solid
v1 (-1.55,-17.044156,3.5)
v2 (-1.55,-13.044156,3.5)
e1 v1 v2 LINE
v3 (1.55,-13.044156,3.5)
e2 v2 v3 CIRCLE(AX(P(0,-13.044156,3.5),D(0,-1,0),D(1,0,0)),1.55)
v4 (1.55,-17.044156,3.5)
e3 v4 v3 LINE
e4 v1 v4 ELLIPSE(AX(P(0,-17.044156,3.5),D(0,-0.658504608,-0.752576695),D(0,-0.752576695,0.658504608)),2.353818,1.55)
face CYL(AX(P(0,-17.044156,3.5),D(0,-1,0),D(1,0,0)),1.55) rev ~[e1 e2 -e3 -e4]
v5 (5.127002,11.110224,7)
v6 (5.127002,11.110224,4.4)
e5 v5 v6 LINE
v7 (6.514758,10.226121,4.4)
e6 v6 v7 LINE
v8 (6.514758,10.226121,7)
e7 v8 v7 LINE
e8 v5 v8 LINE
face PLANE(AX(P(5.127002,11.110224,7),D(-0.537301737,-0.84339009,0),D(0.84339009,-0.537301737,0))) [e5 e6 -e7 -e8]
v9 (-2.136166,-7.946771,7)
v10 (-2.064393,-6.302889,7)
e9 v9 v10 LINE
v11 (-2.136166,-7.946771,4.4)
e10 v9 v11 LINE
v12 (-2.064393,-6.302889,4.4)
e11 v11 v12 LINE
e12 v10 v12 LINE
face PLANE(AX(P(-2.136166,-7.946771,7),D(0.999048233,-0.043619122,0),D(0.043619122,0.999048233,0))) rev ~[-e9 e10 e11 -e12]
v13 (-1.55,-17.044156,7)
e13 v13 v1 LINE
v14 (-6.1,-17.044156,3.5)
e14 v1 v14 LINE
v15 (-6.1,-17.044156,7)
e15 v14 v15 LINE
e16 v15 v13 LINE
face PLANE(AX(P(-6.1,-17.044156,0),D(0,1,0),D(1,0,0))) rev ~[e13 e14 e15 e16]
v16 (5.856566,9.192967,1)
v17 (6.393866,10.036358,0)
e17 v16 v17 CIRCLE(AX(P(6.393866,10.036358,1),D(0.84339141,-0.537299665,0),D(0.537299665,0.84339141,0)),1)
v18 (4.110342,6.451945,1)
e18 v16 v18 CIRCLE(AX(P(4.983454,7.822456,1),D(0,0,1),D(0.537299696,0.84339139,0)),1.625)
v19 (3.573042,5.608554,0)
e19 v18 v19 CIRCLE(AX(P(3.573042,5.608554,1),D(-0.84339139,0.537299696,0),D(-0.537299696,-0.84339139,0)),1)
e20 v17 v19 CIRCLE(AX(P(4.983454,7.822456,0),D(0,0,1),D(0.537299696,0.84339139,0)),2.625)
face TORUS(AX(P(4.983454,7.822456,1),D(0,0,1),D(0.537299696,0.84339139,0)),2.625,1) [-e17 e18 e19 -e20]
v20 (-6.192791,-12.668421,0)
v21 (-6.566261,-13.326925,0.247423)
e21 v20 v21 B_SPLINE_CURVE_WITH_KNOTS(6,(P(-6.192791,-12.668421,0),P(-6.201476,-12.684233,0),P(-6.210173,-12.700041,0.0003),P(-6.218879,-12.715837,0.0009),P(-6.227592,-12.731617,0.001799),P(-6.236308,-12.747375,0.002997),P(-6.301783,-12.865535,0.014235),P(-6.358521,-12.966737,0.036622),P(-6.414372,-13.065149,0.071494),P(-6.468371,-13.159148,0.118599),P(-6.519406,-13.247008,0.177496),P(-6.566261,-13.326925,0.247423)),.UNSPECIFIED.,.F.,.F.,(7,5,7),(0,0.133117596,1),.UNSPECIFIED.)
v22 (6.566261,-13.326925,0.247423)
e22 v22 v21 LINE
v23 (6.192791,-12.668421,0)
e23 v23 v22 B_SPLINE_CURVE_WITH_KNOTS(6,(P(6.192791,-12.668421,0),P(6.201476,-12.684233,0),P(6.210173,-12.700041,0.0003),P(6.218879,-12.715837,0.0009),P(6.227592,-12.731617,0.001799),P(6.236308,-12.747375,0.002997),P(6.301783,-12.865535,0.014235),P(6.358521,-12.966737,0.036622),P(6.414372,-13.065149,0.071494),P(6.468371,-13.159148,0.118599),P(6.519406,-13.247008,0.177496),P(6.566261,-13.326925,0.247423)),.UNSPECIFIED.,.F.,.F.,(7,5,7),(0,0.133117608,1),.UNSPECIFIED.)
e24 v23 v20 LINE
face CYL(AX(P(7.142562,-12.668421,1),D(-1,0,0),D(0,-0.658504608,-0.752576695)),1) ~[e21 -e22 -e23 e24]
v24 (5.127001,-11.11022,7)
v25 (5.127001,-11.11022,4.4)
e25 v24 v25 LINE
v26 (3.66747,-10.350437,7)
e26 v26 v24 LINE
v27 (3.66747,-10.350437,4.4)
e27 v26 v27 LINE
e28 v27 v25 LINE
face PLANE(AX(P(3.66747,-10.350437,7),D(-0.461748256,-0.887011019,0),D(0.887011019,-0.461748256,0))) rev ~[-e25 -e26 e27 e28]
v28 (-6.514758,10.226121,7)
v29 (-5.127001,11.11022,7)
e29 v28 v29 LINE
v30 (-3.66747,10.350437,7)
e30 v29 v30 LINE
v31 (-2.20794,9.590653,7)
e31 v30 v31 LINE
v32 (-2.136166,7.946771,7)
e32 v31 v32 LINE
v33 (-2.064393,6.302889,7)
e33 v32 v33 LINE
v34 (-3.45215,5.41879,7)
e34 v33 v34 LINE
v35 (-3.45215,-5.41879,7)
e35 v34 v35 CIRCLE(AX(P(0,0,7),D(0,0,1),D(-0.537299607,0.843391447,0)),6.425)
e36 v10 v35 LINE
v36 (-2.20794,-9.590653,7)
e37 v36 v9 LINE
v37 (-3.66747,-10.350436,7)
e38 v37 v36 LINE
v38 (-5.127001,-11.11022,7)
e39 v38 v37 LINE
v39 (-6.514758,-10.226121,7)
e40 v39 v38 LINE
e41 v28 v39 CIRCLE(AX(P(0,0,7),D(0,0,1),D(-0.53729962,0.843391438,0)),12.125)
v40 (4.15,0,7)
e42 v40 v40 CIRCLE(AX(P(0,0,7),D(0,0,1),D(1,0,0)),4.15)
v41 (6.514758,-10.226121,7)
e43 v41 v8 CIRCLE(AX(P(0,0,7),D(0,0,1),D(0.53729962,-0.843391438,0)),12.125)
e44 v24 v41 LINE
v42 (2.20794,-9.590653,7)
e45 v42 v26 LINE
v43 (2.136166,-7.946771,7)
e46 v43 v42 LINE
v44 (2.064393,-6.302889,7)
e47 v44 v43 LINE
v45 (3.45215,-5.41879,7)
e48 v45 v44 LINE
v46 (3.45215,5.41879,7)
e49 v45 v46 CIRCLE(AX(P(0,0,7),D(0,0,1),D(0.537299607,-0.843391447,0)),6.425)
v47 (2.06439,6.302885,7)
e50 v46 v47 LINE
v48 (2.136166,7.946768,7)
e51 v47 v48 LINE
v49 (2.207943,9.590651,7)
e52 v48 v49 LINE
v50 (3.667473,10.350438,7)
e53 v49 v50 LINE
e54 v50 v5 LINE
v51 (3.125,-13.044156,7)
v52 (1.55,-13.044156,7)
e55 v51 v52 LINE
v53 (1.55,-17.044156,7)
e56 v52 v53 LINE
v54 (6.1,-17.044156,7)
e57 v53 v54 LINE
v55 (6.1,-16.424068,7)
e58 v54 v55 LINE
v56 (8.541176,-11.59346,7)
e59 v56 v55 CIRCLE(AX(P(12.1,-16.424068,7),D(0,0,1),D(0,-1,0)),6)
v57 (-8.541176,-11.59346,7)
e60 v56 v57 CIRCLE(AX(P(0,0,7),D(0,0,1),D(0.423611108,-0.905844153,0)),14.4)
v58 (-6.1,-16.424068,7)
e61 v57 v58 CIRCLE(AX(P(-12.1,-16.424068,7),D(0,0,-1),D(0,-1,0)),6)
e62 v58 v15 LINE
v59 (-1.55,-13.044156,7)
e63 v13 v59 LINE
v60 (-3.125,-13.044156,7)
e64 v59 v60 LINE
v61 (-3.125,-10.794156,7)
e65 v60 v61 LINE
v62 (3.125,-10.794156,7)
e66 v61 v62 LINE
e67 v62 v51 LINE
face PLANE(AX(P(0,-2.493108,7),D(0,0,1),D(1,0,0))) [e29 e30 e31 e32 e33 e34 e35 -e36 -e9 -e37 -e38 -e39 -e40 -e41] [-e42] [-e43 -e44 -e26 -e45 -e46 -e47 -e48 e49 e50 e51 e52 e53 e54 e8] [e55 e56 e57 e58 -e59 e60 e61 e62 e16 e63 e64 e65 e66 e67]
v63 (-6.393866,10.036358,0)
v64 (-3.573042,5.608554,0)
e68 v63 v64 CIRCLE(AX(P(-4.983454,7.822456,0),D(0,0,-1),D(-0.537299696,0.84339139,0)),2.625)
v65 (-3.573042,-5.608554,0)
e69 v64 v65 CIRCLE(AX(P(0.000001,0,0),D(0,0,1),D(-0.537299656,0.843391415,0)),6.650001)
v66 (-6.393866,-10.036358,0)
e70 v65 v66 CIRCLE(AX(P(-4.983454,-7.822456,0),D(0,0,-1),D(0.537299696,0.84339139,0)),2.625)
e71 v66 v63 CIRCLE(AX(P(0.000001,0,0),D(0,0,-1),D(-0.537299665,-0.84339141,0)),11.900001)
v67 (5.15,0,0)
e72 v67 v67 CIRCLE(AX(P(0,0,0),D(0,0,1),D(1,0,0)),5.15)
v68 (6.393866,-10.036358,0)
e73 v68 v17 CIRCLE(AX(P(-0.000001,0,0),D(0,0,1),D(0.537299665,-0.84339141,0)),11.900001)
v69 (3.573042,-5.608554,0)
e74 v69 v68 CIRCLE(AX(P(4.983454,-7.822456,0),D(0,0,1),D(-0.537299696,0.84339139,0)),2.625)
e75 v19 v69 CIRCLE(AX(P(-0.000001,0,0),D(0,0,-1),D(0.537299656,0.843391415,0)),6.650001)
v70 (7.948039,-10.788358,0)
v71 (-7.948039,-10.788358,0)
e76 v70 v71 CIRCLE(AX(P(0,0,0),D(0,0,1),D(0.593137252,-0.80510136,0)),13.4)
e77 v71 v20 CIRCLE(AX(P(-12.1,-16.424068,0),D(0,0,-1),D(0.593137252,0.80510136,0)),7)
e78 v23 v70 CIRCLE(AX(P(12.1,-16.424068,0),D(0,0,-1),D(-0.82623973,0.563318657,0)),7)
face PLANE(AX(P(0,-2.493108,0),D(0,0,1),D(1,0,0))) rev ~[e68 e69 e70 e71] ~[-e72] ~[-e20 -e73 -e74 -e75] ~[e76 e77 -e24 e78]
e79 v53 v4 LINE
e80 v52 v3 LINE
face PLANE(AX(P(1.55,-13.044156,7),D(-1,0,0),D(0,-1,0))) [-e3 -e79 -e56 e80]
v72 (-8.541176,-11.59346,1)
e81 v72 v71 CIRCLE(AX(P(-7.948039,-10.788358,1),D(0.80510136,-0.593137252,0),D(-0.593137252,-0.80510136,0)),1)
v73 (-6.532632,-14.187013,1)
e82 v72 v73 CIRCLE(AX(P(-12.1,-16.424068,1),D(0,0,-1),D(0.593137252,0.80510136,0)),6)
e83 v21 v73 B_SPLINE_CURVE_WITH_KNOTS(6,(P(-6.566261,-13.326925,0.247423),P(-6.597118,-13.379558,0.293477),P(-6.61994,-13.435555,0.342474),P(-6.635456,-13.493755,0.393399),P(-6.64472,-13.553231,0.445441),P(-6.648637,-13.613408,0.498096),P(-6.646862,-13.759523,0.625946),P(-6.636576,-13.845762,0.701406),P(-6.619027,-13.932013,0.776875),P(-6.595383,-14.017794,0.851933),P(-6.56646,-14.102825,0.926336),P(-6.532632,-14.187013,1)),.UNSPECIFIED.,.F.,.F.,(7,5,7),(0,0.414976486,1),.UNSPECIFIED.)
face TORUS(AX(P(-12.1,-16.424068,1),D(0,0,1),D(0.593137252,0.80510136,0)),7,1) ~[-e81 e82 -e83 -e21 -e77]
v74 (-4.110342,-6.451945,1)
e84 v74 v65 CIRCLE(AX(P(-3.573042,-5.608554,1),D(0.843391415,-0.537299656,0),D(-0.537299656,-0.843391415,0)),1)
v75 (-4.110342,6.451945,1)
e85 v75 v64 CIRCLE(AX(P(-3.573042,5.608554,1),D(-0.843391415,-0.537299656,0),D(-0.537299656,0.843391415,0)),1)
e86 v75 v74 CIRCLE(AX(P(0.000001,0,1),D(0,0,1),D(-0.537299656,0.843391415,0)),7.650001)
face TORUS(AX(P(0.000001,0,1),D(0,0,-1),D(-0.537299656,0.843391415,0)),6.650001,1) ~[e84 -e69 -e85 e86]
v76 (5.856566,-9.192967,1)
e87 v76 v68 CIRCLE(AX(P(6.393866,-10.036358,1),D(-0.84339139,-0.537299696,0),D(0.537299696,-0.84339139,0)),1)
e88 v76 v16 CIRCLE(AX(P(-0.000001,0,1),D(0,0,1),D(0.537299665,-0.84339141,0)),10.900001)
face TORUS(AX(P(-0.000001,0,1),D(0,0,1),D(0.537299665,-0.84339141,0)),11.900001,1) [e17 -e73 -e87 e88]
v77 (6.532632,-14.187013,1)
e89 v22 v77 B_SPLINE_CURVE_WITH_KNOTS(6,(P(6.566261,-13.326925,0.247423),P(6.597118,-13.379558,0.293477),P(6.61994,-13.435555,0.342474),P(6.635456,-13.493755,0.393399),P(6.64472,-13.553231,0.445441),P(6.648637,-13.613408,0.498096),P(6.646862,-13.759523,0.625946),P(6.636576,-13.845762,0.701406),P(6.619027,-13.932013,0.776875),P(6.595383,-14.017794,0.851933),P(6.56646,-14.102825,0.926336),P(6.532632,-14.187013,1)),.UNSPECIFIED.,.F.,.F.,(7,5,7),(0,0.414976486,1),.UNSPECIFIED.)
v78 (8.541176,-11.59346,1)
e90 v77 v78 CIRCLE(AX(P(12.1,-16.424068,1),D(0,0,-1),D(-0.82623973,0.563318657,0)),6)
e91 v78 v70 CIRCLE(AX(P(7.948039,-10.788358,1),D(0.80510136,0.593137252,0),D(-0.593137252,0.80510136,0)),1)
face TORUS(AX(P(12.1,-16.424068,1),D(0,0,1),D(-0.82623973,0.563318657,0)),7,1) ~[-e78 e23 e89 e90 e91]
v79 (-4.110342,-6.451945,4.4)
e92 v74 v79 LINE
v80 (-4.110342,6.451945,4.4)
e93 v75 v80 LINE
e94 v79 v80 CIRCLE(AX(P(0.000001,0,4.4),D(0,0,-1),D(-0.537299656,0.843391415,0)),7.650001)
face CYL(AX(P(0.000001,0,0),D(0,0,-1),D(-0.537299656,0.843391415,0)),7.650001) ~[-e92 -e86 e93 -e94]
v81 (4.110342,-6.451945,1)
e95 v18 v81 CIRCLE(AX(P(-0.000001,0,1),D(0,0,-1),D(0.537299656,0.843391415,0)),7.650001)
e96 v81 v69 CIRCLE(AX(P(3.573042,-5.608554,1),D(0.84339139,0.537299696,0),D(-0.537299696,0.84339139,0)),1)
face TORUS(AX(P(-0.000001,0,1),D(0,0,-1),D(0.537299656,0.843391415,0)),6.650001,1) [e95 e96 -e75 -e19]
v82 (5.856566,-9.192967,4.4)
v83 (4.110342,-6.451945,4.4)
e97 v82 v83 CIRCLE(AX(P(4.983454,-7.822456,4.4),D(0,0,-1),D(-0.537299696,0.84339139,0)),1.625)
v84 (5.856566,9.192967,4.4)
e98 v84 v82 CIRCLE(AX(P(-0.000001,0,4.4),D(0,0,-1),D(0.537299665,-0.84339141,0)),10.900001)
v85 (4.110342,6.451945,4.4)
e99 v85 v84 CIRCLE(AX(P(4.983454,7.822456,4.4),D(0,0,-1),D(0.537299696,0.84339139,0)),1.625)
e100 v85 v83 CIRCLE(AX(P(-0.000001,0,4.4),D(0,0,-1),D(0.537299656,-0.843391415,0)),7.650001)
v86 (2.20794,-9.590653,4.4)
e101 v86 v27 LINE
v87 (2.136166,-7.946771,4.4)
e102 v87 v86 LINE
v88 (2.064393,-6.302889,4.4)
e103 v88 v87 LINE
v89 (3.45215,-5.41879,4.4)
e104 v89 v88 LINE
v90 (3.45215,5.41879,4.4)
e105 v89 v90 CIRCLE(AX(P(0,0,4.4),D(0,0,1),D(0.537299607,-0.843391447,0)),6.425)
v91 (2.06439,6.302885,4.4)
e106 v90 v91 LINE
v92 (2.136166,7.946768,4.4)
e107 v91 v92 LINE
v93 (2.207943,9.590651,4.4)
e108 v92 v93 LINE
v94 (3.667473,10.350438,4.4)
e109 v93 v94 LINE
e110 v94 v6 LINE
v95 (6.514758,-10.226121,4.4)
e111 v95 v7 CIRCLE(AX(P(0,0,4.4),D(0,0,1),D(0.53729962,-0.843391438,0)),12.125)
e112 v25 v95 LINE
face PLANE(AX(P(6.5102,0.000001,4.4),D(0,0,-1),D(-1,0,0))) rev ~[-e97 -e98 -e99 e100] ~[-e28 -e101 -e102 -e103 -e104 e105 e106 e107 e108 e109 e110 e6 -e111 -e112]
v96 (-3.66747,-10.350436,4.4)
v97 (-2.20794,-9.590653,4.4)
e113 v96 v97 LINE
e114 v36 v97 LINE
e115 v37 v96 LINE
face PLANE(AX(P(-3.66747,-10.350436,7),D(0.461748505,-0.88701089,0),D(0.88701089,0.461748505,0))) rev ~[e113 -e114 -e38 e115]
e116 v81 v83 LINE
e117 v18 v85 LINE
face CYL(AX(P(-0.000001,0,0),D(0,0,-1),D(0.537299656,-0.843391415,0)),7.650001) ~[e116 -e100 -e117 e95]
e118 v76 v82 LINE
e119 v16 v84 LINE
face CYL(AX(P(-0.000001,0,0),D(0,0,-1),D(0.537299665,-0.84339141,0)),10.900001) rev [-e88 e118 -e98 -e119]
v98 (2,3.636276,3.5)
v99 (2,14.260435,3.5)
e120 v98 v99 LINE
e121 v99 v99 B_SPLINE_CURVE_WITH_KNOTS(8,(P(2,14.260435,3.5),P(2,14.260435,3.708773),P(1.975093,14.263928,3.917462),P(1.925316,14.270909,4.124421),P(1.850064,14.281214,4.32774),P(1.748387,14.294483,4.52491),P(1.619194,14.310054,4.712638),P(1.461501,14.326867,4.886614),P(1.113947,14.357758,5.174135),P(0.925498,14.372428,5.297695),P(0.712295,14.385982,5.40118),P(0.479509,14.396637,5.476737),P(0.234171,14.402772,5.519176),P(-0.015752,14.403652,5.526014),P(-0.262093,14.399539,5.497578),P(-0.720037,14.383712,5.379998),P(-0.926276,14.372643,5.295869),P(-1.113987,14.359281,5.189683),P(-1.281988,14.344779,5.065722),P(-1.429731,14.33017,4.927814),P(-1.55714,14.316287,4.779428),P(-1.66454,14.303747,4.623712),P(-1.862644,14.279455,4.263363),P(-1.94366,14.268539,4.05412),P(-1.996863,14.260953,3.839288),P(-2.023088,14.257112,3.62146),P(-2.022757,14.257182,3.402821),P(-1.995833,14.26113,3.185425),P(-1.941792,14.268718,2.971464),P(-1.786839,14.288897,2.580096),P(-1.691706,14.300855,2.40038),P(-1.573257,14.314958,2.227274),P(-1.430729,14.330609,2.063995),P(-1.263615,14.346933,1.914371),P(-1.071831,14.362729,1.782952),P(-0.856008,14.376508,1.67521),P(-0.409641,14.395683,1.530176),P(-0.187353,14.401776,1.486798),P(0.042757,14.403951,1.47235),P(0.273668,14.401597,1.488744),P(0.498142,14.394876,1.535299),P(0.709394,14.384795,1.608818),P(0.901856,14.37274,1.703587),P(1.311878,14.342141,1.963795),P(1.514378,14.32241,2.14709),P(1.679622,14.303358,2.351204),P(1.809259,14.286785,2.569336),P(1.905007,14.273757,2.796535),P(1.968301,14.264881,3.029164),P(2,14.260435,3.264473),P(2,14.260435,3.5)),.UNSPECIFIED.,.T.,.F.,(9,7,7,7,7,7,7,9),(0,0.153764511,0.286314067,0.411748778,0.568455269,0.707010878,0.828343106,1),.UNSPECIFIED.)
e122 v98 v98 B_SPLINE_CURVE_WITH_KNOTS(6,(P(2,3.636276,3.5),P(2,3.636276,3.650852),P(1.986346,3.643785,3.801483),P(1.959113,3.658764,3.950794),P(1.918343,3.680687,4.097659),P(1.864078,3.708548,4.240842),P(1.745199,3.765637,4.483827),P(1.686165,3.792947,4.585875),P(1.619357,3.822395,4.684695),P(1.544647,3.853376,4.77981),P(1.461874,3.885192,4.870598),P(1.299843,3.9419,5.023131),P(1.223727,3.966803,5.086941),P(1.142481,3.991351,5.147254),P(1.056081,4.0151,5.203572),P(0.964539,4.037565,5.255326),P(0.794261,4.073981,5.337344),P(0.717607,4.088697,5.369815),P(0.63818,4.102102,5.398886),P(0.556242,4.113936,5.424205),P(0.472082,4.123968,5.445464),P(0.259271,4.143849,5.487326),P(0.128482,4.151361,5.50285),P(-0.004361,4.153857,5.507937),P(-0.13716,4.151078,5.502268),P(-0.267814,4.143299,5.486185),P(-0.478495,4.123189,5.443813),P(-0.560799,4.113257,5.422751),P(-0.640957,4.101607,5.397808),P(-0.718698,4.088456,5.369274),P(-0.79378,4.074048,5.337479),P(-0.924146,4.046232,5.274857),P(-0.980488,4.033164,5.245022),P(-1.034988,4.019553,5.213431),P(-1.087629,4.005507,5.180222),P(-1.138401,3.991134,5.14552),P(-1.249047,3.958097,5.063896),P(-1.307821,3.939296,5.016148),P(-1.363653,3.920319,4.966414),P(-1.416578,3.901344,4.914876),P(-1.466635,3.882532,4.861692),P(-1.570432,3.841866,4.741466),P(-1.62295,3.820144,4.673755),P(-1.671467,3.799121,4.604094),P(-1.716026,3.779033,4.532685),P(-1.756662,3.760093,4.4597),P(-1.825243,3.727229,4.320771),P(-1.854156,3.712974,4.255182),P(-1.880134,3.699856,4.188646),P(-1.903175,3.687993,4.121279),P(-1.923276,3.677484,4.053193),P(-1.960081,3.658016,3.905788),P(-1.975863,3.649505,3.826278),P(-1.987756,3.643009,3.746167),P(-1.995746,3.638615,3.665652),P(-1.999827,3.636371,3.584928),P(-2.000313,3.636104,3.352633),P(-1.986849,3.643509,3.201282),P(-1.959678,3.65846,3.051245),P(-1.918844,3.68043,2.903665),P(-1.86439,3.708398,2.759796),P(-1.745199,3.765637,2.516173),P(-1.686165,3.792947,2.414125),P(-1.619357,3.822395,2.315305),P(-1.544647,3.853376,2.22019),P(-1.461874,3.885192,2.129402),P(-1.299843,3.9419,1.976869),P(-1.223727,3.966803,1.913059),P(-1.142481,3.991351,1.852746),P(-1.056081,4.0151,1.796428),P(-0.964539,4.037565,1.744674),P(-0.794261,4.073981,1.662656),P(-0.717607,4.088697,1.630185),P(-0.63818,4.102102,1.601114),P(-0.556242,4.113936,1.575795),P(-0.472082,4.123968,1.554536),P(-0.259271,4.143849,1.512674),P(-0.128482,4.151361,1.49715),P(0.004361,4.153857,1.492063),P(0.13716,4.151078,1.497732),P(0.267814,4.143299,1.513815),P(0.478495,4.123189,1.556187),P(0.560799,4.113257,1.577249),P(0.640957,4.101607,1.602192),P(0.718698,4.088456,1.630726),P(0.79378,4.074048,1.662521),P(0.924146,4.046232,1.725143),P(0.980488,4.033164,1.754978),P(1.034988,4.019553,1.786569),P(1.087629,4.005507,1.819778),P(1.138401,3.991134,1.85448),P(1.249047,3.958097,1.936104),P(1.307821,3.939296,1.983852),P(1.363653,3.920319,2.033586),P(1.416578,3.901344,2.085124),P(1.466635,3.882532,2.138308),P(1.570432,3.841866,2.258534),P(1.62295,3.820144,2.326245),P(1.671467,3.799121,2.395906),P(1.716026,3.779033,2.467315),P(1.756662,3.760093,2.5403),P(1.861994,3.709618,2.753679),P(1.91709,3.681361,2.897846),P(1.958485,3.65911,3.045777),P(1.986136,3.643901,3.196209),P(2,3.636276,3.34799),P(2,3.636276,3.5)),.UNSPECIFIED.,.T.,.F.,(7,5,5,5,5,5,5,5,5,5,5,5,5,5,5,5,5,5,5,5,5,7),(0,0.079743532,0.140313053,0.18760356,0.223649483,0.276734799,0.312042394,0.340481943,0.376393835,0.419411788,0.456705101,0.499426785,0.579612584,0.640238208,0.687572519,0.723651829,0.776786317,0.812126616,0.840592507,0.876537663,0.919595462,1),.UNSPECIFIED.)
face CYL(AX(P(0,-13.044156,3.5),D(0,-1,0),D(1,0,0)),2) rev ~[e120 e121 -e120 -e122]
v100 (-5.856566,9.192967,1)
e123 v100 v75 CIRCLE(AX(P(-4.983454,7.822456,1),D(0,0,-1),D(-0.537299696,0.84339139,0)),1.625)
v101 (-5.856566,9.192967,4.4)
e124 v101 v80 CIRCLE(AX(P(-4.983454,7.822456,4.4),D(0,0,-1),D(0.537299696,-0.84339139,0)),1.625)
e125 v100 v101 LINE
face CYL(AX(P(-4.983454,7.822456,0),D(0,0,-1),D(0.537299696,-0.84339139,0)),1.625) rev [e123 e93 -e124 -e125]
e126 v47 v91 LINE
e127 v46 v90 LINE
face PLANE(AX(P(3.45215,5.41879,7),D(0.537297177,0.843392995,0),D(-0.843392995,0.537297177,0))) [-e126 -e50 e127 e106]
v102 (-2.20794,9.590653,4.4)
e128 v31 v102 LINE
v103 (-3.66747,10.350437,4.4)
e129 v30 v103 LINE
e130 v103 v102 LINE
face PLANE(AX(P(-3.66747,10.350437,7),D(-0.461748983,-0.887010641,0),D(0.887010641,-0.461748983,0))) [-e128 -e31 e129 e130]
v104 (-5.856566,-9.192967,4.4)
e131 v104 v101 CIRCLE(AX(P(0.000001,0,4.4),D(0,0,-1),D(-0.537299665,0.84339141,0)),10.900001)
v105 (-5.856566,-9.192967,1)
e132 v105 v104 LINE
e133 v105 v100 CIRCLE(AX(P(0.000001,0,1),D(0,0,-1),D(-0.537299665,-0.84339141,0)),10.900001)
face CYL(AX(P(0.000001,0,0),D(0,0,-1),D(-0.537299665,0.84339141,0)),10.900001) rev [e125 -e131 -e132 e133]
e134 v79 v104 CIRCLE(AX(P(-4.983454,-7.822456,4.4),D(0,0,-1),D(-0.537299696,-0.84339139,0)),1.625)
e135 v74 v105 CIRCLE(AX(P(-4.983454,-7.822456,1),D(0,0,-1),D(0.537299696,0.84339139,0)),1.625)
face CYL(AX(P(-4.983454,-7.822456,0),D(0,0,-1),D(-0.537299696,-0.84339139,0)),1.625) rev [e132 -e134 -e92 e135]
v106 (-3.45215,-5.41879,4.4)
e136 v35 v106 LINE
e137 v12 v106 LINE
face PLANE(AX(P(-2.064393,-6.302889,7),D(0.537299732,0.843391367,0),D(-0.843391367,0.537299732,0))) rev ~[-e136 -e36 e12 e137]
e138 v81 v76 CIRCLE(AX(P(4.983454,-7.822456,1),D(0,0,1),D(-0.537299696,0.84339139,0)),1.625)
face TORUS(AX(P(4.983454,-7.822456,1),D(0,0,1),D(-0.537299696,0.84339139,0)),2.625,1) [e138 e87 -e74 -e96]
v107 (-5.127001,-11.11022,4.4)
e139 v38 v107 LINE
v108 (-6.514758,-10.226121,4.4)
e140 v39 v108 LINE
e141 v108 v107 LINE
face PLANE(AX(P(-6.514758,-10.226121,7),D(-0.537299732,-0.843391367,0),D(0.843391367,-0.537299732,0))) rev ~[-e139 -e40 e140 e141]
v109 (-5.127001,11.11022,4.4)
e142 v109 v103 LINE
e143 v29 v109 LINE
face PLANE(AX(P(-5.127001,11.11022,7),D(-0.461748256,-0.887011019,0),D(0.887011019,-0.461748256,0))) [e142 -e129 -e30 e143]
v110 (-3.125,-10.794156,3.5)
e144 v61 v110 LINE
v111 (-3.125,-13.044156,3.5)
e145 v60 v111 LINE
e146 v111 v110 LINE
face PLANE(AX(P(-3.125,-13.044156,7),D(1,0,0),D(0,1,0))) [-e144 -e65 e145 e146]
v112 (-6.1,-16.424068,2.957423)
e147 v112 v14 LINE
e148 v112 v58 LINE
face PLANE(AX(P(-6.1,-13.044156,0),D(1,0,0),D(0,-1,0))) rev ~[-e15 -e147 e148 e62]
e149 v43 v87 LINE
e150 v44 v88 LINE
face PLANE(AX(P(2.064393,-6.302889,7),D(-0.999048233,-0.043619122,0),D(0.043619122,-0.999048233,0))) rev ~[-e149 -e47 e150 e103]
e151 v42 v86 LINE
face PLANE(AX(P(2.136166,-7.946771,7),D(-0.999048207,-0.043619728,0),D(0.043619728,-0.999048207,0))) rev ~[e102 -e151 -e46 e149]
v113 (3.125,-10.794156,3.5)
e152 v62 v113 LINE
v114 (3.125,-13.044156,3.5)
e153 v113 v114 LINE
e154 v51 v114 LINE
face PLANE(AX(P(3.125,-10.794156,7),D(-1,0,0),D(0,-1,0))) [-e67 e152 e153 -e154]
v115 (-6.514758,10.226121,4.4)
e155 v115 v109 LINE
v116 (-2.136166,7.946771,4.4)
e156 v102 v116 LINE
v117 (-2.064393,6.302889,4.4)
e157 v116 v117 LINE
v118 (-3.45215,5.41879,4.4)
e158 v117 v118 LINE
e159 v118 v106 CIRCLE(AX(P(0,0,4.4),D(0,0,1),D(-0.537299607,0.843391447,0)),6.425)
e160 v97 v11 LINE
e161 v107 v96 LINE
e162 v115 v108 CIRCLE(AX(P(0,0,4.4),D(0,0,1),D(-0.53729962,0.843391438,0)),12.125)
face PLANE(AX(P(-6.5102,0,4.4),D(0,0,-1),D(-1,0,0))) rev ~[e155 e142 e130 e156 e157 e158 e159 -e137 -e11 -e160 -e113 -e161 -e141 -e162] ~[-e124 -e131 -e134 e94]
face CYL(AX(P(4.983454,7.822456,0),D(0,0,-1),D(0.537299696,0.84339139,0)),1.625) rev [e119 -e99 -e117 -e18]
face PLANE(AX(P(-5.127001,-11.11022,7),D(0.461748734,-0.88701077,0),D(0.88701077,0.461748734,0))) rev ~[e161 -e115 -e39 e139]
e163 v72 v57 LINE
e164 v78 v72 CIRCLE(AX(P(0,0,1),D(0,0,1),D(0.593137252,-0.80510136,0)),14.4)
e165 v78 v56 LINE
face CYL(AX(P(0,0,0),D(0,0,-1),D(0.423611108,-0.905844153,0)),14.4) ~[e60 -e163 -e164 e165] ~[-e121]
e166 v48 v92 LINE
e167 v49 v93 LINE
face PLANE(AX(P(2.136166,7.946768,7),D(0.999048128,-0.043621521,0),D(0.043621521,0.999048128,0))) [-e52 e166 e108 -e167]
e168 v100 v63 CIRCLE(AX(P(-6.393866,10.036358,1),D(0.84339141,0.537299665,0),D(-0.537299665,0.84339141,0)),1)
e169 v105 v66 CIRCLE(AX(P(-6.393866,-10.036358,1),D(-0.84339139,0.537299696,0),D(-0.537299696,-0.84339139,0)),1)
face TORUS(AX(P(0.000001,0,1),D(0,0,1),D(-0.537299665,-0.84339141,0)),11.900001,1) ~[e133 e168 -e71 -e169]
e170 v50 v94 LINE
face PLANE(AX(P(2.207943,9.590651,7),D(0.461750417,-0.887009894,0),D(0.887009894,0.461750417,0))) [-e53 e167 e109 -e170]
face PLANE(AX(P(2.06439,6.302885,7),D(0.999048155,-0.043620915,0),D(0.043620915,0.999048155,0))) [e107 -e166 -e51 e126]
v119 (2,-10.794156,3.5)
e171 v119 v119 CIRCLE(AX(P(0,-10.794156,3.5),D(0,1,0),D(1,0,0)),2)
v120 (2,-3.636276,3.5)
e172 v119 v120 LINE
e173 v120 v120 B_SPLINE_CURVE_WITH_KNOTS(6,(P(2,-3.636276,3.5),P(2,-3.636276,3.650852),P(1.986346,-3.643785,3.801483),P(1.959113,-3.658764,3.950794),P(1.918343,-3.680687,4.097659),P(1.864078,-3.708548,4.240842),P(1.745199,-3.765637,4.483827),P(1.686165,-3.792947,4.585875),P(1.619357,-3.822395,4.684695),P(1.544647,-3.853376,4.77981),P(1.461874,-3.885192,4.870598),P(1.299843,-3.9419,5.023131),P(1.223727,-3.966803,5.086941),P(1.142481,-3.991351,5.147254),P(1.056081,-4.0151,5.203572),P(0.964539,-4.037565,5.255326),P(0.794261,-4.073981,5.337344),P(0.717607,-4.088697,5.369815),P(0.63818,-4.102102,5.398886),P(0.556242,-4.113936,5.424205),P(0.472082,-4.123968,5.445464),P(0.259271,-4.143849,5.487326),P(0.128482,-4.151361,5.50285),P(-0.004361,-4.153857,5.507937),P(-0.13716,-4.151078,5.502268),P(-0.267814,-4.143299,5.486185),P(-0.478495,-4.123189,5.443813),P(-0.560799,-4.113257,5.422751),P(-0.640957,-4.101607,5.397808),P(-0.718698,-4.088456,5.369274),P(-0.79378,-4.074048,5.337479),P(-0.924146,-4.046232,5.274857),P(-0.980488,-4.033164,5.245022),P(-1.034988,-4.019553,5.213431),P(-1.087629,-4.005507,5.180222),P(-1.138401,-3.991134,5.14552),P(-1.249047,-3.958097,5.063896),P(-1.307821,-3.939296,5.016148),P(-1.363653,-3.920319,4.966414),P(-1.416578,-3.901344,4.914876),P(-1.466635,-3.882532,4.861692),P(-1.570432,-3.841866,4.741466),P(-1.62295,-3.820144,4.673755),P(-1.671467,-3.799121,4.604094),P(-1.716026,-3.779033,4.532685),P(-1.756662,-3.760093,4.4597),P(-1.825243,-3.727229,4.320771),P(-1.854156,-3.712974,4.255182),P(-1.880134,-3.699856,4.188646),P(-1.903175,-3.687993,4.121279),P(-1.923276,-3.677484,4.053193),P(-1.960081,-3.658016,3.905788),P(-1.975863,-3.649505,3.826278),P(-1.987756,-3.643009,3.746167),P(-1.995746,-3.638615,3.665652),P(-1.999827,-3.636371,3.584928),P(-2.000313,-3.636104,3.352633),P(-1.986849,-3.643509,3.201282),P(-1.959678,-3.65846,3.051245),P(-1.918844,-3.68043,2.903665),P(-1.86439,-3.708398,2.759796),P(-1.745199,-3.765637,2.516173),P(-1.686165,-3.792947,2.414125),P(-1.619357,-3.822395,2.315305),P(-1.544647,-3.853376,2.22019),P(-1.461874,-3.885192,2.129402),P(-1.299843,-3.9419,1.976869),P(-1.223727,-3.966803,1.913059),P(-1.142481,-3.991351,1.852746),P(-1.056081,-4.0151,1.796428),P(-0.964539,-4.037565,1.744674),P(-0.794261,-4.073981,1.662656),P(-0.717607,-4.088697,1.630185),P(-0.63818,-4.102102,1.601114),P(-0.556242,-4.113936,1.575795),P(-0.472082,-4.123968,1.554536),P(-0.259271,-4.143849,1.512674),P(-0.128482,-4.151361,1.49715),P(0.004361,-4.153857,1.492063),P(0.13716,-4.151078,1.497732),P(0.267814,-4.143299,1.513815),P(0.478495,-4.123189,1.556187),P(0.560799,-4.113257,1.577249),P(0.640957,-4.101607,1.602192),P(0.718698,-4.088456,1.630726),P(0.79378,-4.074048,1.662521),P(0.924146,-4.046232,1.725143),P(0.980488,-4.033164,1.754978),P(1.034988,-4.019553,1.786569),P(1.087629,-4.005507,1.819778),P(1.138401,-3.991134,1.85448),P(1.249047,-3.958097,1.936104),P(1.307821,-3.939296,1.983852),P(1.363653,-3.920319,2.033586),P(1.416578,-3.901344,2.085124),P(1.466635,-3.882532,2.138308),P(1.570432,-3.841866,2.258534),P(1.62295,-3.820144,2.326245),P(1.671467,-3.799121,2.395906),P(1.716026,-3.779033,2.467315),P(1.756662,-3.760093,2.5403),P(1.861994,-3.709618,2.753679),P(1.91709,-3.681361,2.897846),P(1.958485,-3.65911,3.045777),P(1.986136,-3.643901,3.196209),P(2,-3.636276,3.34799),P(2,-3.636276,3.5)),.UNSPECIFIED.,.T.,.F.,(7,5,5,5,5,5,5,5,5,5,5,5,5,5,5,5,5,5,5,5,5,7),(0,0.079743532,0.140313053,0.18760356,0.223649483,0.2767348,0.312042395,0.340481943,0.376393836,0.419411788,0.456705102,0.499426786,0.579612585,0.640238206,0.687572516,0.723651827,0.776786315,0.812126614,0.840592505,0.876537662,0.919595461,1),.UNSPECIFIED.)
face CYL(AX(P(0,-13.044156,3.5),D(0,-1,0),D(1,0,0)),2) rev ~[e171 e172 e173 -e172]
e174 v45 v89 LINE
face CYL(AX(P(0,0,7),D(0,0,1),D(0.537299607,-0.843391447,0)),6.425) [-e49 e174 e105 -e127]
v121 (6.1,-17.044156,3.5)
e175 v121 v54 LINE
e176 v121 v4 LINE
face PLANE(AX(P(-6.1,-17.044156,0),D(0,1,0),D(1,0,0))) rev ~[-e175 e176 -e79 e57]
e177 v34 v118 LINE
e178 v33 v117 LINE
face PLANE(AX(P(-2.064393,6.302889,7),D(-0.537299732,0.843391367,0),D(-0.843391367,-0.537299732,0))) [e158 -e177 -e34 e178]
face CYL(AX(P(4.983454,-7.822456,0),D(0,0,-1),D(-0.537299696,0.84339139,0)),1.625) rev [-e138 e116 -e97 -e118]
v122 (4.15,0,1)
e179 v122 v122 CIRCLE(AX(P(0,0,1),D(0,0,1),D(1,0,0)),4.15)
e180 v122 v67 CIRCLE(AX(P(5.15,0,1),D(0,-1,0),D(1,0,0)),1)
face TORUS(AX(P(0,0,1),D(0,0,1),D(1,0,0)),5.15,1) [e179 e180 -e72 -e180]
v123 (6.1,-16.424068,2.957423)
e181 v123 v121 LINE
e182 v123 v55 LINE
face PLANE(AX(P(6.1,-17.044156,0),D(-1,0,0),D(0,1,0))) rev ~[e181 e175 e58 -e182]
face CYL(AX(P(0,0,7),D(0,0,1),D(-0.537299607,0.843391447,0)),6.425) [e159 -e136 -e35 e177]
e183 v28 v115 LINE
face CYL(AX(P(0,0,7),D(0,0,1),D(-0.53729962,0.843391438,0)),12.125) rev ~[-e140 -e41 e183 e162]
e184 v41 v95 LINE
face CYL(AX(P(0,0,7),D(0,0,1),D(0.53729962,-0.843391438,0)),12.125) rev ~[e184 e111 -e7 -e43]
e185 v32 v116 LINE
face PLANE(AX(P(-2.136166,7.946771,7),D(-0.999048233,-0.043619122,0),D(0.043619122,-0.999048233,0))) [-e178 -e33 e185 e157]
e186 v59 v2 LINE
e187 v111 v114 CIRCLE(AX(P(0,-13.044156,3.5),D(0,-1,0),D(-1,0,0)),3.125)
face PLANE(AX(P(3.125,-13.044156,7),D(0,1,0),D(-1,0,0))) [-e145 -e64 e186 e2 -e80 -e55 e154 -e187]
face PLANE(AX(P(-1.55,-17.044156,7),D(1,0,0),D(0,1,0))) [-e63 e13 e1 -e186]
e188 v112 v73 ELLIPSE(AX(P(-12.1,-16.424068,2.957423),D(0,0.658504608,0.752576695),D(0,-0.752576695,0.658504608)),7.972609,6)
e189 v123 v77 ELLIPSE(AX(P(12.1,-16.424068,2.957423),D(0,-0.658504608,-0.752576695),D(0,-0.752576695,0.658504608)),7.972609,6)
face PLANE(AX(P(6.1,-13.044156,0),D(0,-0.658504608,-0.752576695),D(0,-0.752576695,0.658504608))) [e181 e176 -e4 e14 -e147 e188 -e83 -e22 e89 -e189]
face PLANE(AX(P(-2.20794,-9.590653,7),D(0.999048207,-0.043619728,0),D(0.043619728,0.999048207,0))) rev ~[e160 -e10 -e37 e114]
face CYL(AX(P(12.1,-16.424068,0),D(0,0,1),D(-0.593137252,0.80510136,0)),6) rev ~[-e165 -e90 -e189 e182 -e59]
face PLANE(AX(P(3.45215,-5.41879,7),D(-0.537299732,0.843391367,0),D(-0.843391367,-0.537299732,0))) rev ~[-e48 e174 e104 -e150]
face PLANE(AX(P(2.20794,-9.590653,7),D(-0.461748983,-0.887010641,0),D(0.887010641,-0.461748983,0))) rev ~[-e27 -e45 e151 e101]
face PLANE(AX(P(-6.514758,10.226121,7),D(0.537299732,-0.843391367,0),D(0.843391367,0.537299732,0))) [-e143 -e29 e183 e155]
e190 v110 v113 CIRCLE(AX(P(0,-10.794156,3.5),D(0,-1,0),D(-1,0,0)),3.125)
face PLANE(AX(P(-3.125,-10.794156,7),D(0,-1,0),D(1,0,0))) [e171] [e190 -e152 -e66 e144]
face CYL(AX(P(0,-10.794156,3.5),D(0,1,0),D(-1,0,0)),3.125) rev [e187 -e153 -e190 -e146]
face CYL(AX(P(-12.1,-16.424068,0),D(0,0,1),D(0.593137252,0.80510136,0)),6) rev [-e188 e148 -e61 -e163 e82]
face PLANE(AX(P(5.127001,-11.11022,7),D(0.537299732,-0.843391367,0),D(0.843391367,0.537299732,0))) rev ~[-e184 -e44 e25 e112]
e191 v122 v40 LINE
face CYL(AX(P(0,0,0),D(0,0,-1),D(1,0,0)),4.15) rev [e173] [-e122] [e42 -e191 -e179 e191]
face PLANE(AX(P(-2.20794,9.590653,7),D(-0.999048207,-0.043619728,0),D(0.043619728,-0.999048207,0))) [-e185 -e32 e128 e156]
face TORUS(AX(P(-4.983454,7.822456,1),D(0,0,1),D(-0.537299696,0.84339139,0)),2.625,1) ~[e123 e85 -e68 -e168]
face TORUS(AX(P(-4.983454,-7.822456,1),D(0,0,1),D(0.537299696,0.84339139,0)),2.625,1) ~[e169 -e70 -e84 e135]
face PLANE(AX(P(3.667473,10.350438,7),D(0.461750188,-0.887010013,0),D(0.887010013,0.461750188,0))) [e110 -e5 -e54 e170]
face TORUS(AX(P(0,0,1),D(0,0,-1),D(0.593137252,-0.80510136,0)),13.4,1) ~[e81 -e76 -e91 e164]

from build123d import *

# Parameters (mm, degrees)
SKETCH_R          = 4.15
EXTRUDE_DEPTH     = 7
FILLET_R          = 6
POCKET_DEPTH      = 20.501
POCKET_DEPTH_BACK = 8.301
FILLET001_R       = 1
SKETCH002_R       = 1.55
POCKET001_DEPTH   = 4
SKETCH003_R       = 2
POCKET002_DEPTH   = 27.445156
POCKET003_DEPTH   = 3.5
POCKET004_DEPTH   = 2.25
POCKET005_DEPTH   = 2.6


with BuildPart() as part:
    # Sketch → Extrude (new body)
    with BuildSketch(Plane.XY):
        with BuildLine():
            ThreePointArc((6.1, -13.044156), (0, 14.4), (-6.1, -13.044156))
            Line((-6.1, -13.044156), (-6.1, -17.044156))
            Line((-6.1, -17.044156), (6.1, -17.044156))
            Line((6.1, -17.044156), (6.1, -13.044156))
        make_face()
        Circle(SKETCH_R, mode=Mode.SUBTRACT)
        with BuildLine():
            ThreePointArc((-4.110342, 6.451945), (-7.65, 0), (-4.110342, -6.451945))
            ThreePointArc((-5.856566, -9.192967), (-3.612943, -8.695568), (-4.110342, -6.451945))
            ThreePointArc((-5.856566, 9.192967), (-10.9, 0), (-5.856566, -9.192967))
            ThreePointArc((-4.110342, 6.451945), (-3.612943, 8.695568), (-5.856566, 9.192967))
        make_face(mode=Mode.SUBTRACT)
        with BuildLine():
            ThreePointArc((4.110342, -6.451945), (7.65, 0), (4.110342, 6.451945))
            ThreePointArc((5.856566, 9.192967), (3.612943, 8.695568), (4.110342, 6.451945))
            ThreePointArc((5.856566, -9.192967), (10.9, 0), (5.856566, 9.192967))
            ThreePointArc((4.110342, -6.451945), (3.612943, -8.695568), (5.856566, -9.192967))
        make_face(mode=Mode.SUBTRACT)
    extrude(amount=EXTRUDE_DEPTH)

    # Fillet
    fillet_edges = [part.edges().sort_by_distance(p)[0] for p in [
        (6.1, -13.044156, 3.5),
        (-6.1, -13.044156, 3.5),
    ]]
    fillet(fillet_edges, radius=FILLET_R)

    # Sketch001 → Pocket (cut, two sides)
    with BuildSketch(Plane.YZ.offset(6.1)) as pocket_sk:
        Polygon((-17.044156, 3.5), (-17.044156, 0), (-13.044156, 0), align=None)
    extrude(amount=-POCKET_DEPTH, mode=Mode.SUBTRACT)
    extrude(pocket_sk.sketch, amount=POCKET_DEPTH_BACK, mode=Mode.SUBTRACT)

    # Fillet001
    fillet001_edges = [part.edges().sort_by_distance(p)[0] for p in [
        (0, 14.4, 0),
        (7.780531, -12.259672, 0),
        (0, -13.044156, 0),
        (-7.780531, -12.259672, 0),
        (-7.65, 0, 0),
        (-3.612943, 8.695568, 0),
        (-3.612943, -8.695568, 0),
        (-10.9, 0, 0),
        (-4.15, 0, 0),
        (3.612943, -8.695568, 0),
        (7.65, 0, 0),
        (10.9, 0, 0),
        (3.612943, 8.695568, 0),
    ]]
    fillet(fillet001_edges, radius=FILLET001_R)

    # Sketch002 → Pocket001 (cut)
    with BuildSketch(Plane.XZ.offset(17.044156)):
        with Locations((0, 3.5)):
            Circle(SKETCH002_R)
    extrude(amount=-POCKET001_DEPTH, mode=Mode.SUBTRACT)

    # Sketch003 → Pocket002 (cut, through all)
    with BuildSketch(Plane.XZ.offset(13.044156)):
        with Locations((0, 3.5)):
            Circle(SKETCH003_R)
    extrude(amount=-POCKET002_DEPTH, mode=Mode.SUBTRACT)

    # Sketch004 → Pocket003 (cut)
    with BuildSketch(Plane.XY.offset(7)):
        Polygon((-3.125, -10.794156), (3.125, -10.794156), (3.125, -13.044156), (1.55, -13.044156), (1.55, -17.044156), (-1.55, -17.044156), (-1.55, -13.044156), (-3.125, -13.044156), align=None)
    extrude(amount=-POCKET003_DEPTH, mode=Mode.SUBTRACT)

    # Sketch005 → Pocket004 (cut)
    with BuildSketch(Plane.XZ.offset(10.794156)):
        with BuildLine():
            Line((-3.125, 3.5), (3.125, 3.5))
            ThreePointArc((-3.125, 3.5), (0, 0.375), (3.125, 3.5))
        make_face()
    extrude(amount=POCKET004_DEPTH, mode=Mode.SUBTRACT)

    # Sketch006 → Pocket005 (cut)
    with BuildSketch(Plane.XY.offset(7)):
        with BuildLine():
            ThreePointArc((-3.45215, 5.41879), (-6.425, 0), (-3.45215, -5.41879))
            Line((-2.064393, -6.302889), (-3.45215, -5.41879))
            Line((-2.136166, -7.946771), (-2.064393, -6.302889))
            Line((-2.20794, -9.590653), (-2.136166, -7.946771))
            Line((-3.66747, -10.350436), (-2.20794, -9.590653))
            Line((-5.127001, -11.11022), (-3.66747, -10.350436))
            Line((-6.514758, -10.226121), (-5.127001, -11.11022))
            ThreePointArc((-6.514758, 10.226121), (-12.125, 0), (-6.514758, -10.226121))
            Line((-6.514758, 10.226121), (-5.127001, 11.11022))
            Line((-5.127001, 11.11022), (-3.66747, 10.350437))
            Line((-3.66747, 10.350437), (-2.20794, 9.590653))
            Line((-2.20794, 9.590653), (-2.136166, 7.946771))
            Line((-2.136166, 7.946771), (-2.064393, 6.302889))
            Line((-2.064393, 6.302889), (-3.45215, 5.41879))
        make_face()
        with BuildLine():
            ThreePointArc((3.45215, -5.41879), (6.425, 0), (3.45215, 5.41879))
            Line((3.45215, 5.41879), (2.06439, 6.302885))
            Line((2.06439, 6.302885), (2.136166, 7.946768))
            Line((2.136166, 7.946768), (2.207943, 9.590651))
            Line((2.207943, 9.590651), (3.667473, 10.350438))
            Line((3.667473, 10.350438), (5.127002, 11.110224))
            Line((5.127002, 11.110224), (6.514758, 10.226121))
            ThreePointArc((6.514758, -10.226121), (12.125, 0), (6.514758, 10.226121))
            Line((5.127001, -11.11022), (6.514758, -10.226121))
            Line((3.66747, -10.350437), (5.127001, -11.11022))
            Line((2.20794, -9.590653), (3.66747, -10.350437))
            Line((2.136166, -7.946771), (2.20794, -9.590653))
            Line((2.064393, -6.302889), (2.136166, -7.946771))
            Line((3.45215, -5.41879), (2.064393, -6.302889))
        make_face()
    extrude(amount=-POCKET005_DEPTH, mode=Mode.SUBTRACT)


solid = part.part
